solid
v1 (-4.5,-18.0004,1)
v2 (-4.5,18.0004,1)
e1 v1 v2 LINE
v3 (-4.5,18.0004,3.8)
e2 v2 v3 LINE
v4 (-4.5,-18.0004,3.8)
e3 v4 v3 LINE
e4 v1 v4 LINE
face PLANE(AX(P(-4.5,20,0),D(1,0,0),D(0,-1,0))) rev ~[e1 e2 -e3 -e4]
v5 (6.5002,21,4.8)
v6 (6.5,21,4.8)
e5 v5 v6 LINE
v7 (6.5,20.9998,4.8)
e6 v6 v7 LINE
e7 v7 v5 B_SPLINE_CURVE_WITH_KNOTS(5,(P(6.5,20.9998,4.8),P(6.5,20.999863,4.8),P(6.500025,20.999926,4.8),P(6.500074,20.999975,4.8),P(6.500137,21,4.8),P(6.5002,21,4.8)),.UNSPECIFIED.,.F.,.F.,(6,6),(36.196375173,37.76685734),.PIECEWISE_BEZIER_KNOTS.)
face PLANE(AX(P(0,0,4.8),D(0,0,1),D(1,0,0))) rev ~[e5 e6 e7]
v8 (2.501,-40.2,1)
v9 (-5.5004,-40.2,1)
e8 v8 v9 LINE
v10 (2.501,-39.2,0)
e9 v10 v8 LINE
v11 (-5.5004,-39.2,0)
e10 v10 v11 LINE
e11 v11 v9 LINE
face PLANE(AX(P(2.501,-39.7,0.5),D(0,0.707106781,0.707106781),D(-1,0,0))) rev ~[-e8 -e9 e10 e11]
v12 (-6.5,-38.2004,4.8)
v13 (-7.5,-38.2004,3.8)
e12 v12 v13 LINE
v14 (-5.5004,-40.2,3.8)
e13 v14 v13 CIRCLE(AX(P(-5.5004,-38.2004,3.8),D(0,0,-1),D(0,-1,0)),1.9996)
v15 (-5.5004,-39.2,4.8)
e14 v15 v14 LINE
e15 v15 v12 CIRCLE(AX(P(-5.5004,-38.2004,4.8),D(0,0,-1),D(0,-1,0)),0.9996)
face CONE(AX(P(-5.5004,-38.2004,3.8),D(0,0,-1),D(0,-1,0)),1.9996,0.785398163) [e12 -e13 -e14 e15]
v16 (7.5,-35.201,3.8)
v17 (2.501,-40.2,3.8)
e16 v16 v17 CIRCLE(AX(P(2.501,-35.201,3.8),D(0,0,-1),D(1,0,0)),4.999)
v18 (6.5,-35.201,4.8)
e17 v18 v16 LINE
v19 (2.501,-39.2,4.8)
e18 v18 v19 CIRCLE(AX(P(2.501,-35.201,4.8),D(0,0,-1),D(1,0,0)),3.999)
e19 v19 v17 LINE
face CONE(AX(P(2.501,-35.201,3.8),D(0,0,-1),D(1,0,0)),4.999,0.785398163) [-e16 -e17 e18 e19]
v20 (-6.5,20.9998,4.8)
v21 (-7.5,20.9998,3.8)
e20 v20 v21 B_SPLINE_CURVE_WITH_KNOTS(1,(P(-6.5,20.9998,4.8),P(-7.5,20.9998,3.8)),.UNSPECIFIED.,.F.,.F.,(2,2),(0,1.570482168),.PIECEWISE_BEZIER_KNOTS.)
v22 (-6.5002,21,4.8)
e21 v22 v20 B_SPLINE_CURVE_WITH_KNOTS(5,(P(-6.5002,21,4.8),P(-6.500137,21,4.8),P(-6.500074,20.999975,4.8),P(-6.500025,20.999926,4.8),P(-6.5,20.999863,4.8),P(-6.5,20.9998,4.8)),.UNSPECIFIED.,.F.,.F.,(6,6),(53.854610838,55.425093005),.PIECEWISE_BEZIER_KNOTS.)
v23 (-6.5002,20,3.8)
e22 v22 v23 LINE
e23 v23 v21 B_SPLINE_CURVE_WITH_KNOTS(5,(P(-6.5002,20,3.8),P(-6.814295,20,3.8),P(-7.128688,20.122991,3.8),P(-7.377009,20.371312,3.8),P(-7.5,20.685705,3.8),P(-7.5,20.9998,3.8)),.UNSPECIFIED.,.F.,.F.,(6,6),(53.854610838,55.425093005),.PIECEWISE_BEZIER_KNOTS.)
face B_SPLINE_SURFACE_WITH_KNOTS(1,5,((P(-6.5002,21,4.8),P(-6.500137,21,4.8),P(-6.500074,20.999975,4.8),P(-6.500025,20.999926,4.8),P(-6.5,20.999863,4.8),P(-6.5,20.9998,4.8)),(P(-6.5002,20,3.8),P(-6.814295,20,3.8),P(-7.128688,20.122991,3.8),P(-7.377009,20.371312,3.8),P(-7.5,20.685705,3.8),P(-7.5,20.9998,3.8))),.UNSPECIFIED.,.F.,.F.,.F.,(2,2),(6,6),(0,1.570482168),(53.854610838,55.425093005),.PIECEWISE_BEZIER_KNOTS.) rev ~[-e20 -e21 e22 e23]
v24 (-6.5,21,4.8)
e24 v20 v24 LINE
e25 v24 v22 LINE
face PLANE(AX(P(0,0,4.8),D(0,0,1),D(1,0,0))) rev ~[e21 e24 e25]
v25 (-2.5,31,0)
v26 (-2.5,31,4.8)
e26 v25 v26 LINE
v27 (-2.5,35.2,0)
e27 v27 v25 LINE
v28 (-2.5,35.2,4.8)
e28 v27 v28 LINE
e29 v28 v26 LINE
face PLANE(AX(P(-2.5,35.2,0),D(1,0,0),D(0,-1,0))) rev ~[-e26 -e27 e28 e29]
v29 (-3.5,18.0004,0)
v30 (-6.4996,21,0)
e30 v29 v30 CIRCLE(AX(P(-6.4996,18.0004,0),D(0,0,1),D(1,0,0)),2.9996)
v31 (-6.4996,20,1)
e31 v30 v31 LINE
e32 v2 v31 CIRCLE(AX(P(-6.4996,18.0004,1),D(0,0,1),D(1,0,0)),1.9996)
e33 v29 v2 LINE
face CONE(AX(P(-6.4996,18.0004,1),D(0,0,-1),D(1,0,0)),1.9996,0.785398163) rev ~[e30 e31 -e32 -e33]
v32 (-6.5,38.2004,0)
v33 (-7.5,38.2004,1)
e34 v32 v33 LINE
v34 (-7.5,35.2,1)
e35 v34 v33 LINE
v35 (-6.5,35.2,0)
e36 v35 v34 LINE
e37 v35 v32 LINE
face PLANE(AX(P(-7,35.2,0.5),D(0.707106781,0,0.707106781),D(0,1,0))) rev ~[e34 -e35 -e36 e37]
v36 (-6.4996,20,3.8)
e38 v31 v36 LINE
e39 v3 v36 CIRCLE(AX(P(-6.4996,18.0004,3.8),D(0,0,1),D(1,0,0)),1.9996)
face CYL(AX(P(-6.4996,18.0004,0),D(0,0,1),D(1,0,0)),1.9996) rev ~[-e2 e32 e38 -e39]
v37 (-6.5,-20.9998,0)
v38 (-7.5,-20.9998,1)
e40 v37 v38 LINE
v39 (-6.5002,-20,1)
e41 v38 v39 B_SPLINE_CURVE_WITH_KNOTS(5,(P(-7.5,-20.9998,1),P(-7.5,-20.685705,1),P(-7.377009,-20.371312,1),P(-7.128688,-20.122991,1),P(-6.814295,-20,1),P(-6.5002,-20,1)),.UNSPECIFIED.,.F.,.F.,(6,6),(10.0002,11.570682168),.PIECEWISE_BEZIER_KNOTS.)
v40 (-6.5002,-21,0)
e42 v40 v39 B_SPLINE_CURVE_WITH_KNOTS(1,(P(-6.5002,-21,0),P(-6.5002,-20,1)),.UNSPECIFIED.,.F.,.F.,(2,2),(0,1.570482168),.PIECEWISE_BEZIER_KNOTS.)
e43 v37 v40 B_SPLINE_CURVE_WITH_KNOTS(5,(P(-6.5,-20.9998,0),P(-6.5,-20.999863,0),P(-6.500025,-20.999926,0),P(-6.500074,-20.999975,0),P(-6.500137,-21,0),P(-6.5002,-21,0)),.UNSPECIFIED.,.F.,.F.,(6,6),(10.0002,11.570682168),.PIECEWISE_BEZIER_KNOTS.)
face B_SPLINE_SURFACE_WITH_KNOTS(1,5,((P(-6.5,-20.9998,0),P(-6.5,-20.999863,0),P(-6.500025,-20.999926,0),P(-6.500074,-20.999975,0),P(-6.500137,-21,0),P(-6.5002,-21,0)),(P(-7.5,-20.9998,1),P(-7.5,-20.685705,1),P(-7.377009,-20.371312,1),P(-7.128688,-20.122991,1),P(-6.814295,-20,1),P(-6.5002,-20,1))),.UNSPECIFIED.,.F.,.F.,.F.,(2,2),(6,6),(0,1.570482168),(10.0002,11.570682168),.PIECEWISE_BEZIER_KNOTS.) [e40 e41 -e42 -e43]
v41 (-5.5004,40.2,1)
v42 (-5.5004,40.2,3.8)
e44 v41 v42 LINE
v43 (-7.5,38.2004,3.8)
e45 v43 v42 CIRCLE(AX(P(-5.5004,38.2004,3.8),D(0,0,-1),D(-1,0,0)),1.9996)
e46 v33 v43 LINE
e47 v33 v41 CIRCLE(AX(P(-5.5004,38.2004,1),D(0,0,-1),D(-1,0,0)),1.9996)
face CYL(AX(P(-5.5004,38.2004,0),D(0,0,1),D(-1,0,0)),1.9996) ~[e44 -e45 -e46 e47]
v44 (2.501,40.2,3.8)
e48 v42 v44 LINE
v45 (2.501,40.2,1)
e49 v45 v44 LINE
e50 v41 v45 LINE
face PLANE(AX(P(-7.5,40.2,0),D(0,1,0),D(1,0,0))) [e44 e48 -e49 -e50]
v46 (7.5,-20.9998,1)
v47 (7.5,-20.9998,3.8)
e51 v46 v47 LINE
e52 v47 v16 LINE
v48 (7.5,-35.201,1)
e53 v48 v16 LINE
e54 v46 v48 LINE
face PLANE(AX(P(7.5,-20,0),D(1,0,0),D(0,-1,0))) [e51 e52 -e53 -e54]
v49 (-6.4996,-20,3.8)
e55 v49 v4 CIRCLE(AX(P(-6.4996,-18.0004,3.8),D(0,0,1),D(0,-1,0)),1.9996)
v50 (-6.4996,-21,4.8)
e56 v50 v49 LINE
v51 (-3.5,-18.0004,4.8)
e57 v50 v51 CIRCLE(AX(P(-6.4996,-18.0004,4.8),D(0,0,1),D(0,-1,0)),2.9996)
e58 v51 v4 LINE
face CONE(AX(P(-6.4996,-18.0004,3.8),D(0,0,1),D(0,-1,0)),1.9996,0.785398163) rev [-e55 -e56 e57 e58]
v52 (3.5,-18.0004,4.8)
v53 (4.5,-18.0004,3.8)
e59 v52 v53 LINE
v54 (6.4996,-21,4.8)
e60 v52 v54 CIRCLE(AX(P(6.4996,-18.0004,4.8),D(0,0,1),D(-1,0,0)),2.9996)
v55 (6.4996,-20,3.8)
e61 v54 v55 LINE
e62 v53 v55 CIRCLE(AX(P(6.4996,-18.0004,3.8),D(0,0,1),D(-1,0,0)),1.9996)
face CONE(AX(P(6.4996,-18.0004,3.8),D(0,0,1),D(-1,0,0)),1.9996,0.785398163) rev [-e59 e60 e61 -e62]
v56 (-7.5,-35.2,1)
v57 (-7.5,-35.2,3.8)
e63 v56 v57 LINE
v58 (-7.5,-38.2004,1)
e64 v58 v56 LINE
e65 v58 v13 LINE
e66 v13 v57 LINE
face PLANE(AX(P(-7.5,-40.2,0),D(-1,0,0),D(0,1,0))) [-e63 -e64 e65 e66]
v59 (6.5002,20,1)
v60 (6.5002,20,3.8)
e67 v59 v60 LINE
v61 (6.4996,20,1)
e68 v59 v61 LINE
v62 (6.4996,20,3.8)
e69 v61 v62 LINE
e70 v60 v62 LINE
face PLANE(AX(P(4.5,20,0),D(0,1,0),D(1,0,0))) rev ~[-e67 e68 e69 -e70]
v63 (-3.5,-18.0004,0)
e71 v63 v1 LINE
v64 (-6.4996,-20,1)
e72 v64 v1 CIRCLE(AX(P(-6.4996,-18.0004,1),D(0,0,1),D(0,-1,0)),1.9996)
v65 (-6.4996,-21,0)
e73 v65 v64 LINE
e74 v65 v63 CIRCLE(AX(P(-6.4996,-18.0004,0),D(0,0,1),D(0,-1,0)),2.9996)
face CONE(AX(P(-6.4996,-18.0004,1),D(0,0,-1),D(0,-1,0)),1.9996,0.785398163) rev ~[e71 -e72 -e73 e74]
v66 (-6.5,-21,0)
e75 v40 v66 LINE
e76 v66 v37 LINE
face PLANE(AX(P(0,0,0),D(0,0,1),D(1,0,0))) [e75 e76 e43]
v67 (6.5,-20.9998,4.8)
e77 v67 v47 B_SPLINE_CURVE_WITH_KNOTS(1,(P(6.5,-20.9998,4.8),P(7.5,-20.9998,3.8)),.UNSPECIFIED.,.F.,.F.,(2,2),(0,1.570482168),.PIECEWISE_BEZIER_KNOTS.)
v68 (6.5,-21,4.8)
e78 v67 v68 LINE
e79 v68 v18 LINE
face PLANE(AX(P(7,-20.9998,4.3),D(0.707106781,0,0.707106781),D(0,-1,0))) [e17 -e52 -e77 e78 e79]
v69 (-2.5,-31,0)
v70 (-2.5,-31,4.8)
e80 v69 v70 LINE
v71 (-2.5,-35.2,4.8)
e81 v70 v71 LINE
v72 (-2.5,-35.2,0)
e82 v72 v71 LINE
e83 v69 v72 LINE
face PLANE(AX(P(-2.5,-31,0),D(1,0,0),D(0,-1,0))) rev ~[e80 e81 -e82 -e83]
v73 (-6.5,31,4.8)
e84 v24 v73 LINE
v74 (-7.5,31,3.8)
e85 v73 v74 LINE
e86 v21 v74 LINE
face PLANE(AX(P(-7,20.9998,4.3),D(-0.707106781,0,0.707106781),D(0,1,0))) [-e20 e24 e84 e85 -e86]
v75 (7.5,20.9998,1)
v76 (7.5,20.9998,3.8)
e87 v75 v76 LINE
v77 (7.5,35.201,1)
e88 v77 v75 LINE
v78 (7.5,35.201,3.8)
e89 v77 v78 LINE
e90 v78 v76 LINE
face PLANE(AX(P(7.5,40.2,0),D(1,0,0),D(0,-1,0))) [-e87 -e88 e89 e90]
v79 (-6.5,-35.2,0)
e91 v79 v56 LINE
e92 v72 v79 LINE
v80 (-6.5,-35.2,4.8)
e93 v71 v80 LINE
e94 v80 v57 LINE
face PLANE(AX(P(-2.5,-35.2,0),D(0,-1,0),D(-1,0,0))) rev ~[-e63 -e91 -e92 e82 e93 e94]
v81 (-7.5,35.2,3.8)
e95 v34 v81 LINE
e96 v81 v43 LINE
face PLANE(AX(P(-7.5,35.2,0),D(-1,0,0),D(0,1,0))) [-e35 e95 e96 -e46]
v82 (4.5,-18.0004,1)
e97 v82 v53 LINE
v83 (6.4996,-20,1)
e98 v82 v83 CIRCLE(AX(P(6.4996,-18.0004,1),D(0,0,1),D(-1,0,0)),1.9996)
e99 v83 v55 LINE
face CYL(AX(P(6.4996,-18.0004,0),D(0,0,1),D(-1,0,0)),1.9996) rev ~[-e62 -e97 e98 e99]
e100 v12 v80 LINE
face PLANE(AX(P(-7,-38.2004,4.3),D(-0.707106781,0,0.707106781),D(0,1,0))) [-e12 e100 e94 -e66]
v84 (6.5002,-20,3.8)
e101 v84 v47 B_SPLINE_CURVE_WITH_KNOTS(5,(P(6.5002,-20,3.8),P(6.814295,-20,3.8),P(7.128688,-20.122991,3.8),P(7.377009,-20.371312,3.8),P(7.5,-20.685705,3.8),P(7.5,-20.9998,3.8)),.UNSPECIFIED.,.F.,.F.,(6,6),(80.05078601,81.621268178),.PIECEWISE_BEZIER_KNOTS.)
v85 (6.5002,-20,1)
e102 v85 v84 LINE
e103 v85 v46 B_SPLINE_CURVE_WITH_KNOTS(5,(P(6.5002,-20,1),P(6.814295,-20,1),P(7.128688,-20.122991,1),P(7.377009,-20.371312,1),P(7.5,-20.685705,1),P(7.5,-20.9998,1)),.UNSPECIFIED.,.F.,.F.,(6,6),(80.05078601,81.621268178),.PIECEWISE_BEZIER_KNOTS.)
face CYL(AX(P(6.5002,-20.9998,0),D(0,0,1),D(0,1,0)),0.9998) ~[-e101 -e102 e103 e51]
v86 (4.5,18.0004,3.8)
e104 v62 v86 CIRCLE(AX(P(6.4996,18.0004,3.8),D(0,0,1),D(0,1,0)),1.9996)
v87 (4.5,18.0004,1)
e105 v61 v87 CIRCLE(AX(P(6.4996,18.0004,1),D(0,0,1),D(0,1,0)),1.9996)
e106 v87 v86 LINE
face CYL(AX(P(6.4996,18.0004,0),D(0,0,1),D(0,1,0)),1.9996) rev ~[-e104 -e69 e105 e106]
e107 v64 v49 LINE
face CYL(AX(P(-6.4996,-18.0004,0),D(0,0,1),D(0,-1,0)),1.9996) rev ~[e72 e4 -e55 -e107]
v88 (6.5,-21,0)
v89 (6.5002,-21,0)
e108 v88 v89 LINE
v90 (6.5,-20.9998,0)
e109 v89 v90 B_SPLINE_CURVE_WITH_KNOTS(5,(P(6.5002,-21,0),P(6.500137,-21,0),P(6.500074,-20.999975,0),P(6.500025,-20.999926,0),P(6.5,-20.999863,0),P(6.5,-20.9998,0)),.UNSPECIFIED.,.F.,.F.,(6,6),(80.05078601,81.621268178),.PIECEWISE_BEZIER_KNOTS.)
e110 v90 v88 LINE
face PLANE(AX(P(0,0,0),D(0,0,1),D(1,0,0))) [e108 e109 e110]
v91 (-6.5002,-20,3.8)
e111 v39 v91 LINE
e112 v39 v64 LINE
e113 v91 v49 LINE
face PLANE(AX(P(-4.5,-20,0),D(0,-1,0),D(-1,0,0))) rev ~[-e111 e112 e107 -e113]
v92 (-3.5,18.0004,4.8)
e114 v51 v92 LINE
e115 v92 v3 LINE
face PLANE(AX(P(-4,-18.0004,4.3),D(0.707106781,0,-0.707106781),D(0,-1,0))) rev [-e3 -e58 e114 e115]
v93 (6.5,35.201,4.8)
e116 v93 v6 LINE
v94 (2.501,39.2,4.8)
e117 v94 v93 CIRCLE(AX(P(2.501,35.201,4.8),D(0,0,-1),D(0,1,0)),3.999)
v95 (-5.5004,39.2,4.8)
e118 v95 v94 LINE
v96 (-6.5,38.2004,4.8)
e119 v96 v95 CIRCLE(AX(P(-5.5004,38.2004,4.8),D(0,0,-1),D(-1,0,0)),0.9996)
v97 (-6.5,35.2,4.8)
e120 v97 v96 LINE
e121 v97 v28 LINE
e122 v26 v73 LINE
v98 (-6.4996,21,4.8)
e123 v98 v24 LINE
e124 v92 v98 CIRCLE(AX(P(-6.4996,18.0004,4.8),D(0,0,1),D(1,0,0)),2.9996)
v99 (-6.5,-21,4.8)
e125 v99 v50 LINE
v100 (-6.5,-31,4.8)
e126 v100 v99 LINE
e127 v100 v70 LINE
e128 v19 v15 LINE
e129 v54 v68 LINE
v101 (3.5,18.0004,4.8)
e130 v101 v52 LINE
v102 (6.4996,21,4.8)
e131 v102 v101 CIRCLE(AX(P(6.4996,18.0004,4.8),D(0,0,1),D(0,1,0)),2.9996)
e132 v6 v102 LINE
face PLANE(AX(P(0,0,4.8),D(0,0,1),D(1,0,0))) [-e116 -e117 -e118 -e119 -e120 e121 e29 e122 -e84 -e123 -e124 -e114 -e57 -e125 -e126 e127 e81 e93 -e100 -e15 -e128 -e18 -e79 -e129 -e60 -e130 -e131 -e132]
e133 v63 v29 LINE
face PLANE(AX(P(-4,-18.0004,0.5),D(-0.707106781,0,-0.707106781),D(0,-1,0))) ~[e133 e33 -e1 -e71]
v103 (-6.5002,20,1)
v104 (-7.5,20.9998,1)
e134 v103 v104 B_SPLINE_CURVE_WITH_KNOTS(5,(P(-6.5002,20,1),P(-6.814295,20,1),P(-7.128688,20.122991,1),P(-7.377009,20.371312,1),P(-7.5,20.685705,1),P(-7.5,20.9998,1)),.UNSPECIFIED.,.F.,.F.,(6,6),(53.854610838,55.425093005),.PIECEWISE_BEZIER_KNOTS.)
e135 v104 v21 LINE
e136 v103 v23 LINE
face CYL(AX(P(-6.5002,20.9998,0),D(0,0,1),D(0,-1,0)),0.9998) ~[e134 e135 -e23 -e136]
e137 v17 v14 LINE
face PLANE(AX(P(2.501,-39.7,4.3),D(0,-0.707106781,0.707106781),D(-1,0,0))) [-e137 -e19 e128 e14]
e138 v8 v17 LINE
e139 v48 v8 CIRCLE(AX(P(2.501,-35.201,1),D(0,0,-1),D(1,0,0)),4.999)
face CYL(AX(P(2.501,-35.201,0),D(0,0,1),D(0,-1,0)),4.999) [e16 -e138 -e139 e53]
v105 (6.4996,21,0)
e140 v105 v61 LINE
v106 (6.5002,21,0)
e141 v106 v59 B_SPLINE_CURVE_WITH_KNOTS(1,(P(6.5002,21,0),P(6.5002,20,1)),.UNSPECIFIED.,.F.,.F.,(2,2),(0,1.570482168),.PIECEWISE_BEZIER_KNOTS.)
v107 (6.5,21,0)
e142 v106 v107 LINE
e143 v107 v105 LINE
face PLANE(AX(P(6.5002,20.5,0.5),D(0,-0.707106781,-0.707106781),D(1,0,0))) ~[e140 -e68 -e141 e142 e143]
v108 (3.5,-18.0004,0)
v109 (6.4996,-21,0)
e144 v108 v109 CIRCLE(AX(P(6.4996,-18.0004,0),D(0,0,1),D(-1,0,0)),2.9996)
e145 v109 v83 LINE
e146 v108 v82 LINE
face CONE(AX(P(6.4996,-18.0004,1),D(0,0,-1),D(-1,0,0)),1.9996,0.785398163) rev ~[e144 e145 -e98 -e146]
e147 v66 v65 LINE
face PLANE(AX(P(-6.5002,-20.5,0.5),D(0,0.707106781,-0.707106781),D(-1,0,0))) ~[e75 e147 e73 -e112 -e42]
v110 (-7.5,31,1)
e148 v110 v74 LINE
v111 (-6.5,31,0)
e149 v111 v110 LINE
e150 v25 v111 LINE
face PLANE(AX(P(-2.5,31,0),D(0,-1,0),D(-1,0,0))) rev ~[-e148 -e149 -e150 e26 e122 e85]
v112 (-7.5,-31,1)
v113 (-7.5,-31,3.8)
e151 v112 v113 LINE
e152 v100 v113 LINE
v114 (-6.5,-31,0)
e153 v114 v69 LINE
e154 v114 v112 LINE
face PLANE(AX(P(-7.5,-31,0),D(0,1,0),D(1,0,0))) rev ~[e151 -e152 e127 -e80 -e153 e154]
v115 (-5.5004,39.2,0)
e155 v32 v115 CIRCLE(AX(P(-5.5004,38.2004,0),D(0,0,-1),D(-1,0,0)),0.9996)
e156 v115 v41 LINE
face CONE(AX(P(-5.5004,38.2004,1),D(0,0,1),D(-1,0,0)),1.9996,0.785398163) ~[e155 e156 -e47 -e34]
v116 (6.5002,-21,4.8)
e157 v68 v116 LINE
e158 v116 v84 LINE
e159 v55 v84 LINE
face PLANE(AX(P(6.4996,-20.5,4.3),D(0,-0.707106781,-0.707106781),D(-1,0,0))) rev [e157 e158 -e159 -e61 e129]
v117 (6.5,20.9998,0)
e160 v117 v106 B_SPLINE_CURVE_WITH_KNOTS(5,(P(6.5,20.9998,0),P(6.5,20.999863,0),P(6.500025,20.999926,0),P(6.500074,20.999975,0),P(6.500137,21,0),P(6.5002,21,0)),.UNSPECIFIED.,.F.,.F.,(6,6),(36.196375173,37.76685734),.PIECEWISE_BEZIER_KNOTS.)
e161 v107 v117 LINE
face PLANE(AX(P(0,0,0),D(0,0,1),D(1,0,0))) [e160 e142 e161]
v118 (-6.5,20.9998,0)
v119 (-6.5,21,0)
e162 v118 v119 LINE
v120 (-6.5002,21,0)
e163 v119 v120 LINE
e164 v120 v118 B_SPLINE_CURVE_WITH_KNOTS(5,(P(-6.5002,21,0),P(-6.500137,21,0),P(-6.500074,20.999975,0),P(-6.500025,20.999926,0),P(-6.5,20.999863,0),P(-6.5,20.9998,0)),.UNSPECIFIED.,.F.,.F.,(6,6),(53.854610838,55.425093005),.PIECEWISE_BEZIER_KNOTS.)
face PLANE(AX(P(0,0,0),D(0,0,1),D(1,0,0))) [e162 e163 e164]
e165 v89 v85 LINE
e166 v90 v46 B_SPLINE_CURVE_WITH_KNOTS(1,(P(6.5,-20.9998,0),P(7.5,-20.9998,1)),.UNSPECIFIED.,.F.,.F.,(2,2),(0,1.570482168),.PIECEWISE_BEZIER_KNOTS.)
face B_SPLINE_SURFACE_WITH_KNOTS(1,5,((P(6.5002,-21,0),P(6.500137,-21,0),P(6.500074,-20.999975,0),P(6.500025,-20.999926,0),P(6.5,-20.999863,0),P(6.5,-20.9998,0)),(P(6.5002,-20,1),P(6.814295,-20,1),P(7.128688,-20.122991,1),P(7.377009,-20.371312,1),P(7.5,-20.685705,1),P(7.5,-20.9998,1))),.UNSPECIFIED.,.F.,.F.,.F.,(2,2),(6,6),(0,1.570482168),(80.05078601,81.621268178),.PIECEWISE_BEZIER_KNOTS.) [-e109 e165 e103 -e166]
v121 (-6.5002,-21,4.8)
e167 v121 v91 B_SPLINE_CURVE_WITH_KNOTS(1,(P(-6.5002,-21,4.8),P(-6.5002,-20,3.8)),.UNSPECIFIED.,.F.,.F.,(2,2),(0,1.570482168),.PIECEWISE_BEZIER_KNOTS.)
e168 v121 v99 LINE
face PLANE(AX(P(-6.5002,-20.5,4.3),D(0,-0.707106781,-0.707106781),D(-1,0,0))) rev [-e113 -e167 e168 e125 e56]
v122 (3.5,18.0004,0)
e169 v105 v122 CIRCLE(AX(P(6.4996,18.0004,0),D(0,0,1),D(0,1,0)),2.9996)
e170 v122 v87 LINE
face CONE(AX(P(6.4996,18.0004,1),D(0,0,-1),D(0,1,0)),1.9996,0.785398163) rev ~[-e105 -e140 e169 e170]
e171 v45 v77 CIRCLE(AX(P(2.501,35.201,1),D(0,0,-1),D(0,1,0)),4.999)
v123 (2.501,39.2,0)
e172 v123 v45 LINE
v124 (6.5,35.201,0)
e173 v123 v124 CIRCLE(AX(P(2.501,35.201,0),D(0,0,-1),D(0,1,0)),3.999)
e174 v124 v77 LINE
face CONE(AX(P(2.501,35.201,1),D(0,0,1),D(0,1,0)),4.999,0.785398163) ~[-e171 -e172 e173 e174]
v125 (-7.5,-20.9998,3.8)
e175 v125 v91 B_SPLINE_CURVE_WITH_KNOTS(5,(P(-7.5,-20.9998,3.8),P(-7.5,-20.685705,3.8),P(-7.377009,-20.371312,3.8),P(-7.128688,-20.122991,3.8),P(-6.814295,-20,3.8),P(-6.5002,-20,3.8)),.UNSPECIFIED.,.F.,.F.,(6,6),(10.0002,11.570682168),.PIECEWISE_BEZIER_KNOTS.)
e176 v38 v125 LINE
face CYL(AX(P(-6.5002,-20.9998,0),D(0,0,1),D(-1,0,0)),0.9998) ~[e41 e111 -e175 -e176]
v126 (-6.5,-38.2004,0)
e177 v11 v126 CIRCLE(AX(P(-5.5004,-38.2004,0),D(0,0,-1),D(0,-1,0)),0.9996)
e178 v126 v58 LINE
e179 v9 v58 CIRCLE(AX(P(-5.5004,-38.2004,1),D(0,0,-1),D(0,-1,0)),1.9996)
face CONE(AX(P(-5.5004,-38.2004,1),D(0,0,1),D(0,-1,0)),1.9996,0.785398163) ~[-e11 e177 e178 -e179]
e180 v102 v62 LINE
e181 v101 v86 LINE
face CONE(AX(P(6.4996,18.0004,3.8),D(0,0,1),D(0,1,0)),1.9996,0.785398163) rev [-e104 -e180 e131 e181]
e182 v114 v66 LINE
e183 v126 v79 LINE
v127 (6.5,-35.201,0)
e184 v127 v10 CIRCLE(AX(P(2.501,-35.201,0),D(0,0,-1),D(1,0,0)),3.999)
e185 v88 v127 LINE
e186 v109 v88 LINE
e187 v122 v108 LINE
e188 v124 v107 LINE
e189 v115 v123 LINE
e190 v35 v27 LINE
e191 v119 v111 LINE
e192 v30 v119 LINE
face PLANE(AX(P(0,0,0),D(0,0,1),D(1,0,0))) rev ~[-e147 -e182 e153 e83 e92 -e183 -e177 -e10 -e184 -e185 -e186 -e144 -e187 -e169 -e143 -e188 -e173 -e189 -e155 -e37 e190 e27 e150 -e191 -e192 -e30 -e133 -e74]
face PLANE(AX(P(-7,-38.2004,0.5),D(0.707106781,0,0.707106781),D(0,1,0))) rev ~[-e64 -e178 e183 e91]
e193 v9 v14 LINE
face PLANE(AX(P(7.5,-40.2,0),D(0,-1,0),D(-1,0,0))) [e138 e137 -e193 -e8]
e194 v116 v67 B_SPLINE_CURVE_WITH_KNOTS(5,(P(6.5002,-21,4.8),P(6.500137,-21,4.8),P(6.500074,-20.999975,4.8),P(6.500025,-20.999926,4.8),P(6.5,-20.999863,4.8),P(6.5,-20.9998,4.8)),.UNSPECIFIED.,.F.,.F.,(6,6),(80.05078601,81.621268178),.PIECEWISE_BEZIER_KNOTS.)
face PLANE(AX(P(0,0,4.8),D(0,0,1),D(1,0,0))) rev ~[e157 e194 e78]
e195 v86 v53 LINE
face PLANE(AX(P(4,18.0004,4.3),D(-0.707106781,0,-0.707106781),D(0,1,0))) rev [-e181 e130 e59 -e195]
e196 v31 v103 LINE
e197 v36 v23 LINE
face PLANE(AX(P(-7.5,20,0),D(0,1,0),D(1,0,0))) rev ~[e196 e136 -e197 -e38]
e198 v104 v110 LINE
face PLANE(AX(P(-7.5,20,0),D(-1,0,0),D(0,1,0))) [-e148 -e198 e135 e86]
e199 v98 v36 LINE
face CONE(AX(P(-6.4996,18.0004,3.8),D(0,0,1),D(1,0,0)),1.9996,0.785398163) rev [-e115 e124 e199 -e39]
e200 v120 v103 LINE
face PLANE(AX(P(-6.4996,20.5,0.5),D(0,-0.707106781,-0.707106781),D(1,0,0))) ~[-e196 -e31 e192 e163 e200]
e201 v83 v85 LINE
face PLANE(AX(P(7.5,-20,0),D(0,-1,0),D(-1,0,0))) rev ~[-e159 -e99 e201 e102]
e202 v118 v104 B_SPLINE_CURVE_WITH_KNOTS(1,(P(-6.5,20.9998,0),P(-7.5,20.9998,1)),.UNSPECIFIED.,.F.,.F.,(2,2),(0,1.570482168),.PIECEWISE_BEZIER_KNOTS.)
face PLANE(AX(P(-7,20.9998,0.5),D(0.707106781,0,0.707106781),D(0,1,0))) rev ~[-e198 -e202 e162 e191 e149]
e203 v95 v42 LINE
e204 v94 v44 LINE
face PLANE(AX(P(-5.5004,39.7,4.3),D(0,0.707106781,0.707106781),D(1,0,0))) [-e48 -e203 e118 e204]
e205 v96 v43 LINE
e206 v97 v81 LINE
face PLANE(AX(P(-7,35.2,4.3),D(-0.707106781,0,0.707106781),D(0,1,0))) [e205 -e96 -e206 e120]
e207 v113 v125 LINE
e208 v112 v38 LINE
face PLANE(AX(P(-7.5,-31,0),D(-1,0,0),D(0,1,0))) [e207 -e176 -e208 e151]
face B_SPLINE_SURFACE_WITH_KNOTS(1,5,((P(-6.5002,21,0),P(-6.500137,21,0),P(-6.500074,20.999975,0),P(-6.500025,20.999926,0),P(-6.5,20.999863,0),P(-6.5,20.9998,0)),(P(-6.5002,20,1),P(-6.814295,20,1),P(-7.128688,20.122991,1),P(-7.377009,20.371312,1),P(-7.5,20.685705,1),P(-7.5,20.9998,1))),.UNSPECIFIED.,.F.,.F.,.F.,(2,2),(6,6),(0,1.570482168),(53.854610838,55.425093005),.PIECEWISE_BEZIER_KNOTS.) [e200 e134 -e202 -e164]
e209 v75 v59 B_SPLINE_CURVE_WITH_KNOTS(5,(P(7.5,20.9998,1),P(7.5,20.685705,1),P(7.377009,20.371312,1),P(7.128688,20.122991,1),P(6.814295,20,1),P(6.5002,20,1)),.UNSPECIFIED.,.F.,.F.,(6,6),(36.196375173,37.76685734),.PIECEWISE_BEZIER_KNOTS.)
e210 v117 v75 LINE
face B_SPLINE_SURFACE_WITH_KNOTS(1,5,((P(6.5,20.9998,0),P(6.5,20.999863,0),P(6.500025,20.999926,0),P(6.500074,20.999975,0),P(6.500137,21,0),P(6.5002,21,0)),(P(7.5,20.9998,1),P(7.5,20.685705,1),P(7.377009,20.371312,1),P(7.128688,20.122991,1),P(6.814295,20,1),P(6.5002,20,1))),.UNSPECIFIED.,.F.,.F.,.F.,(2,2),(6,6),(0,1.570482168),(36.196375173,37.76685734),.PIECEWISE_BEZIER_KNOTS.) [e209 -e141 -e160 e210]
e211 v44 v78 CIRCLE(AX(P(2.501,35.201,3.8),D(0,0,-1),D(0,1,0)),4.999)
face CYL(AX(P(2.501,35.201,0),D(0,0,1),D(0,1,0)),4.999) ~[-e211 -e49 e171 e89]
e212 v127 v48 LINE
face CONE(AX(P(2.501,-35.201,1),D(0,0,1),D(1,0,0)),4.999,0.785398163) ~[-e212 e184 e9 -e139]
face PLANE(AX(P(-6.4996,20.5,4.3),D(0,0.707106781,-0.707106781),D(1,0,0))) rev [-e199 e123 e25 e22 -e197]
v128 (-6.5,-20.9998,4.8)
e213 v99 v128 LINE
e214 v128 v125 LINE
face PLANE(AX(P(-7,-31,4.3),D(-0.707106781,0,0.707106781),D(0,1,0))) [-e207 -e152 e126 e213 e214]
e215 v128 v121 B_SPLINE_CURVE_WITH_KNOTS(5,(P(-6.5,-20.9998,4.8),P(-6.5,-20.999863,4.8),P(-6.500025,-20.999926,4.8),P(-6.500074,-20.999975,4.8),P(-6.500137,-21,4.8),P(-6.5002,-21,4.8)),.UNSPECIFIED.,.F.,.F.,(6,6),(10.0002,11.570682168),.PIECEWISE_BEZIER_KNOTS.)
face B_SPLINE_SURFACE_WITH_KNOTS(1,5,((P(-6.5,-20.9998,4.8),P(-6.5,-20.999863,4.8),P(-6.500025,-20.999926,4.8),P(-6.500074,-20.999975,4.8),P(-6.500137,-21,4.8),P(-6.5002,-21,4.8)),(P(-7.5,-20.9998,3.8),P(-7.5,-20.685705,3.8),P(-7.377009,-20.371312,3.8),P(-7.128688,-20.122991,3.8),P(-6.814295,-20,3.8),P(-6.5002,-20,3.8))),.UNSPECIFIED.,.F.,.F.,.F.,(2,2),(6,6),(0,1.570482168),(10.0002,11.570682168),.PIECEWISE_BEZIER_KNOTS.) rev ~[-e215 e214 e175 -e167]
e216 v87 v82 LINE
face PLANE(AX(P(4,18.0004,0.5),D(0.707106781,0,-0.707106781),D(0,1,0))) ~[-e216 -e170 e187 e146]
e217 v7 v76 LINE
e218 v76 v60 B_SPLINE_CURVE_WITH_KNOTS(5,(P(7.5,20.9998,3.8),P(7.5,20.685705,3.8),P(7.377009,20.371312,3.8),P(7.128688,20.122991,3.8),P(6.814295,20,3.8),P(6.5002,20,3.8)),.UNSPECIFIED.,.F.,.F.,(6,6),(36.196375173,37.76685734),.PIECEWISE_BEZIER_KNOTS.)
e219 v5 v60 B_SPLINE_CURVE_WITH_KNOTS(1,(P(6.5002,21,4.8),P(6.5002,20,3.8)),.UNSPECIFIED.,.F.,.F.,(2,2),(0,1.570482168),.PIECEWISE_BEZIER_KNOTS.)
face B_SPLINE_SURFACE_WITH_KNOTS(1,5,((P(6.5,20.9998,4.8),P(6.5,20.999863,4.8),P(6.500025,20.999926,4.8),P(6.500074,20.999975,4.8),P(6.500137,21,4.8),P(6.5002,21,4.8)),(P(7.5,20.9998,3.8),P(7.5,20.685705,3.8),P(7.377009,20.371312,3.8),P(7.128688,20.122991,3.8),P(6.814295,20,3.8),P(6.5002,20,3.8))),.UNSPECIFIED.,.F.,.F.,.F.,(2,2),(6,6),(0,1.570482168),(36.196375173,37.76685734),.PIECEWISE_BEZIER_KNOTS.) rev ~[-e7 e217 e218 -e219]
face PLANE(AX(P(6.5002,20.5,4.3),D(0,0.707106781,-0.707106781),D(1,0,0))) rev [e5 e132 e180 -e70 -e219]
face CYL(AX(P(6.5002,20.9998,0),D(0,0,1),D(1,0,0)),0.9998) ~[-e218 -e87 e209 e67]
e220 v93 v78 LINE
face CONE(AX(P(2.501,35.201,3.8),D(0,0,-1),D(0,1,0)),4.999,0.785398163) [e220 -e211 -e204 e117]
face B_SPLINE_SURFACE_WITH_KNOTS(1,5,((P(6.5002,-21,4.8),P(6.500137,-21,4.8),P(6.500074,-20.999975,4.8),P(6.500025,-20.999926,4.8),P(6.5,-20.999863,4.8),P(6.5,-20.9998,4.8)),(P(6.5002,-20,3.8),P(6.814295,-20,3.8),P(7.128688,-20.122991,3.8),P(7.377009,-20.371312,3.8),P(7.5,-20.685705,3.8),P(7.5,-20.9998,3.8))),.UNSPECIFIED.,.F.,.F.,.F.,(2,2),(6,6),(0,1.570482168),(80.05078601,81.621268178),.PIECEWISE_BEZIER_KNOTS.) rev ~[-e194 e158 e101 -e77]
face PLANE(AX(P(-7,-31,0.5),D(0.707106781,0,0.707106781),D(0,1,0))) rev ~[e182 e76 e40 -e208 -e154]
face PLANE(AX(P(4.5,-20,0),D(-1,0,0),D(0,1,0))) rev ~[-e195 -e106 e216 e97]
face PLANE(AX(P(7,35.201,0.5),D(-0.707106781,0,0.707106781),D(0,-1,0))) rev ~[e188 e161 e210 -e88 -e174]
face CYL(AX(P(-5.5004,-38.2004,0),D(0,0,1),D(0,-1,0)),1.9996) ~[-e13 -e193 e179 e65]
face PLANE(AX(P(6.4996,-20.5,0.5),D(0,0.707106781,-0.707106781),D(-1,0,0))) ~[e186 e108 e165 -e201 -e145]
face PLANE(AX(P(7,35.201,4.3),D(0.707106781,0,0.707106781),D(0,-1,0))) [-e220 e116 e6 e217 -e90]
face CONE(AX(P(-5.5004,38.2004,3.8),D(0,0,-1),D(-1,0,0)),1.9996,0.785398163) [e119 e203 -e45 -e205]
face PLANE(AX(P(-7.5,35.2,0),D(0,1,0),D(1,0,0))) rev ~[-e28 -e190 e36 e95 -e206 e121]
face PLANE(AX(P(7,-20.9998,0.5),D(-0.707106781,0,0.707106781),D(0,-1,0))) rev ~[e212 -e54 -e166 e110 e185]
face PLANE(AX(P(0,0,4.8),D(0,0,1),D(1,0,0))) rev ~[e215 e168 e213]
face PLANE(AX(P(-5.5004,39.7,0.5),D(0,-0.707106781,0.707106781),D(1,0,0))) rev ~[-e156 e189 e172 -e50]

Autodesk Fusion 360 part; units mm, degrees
sketch "Sketch1" plane through (0, 0, 0) normal (0, 0, 1) x (1, 0, 0)
  line L0 (7.5, -40.2) -> (-7.5, -40.2)
  line L1 (-7.5, -40.2) -> (-7.5, 40.2)
  line L2 (-7.5, 40.2) -> (7.5, 40.2)
  line L3 (7.5, 40.2) -> (7.5, -40.2)
  line L4 (7.5, -40.2) -> (-7.5, 40.2) construction
  line L5 (-7.5, -40.2) -> (7.5, 40.2) construction
  line L6 (-7.5, 35.2) -> (-2.5, 35.2)
  line L7 (-2.5, 35.2) -> (-2.5, 31)
  line L8 (-2.5, 31) -> (-7.5, 31)
  line L9 (-7.5, 31) -> (-7.5, 35.2)
  line L10 (-7.5, -31) -> (-2.5, -31)
  line L11 (-2.5, -31) -> (-2.5, -35.2)
  line L12 (-2.5, -35.2) -> (-7.5, -35.2)
  line L13 (-7.5, -35.2) -> (-7.5, -31)
  line L14 (0, 1.75) -> (0, 22.5)
  line L15 (-7.5, 20) -> (-4.5, 20)
  line L16 (-4.5, 20) -> (-4.5, -20)
  line L17 (-4.5, -20) -> (-7.5, -20)
  line L18 (-7.5, -20) -> (-7.5, 20)
  line L19 (7.5, -20) -> (4.5, -20)
  line L20 (4.5, -20) -> (4.5, 20)
  line L21 (4.5, 20) -> (7.5, 20)
  line L22 (7.5, 20) -> (7.5, -20)
  dimension "d1" = 80.4
  dimension "d2" = 15
  dimension "d3" = 5
  dimension "d4" = 4.2
  dimension "d5" = 5
  dimension "d6" = 4.2
  dimension "d7" = 5
  dimension "d8" = 5
  dimension "d26" = 15
  dimension "d27" = 40.2
  dimension "d28" = 3
  dimension "d29" = 40
  dimension "d30" = 20
  dimension "d31" = 40
  dimension "d32" = 3
  dimension "d33" = 20
extrude "Extrude1" add sketch "Sketch1" along normal blind 4.8 contours L0 L1 L2 L3 L6 L7 L8 L10 L11 L12 L15 L16 L17 L19 L20 L21
fillet "Fillet1" radius 5 2 edges at (7.5, 40.2, 2.4) (7.5, -40.2, 2.4)
fillet "Fillet1" radius 2 6 edges at (-7.5, 40.2, 2.4) (-7.5, -40.2, 2.4) (-4.5, 20, 2.4) (4.5, 20, 2.4) (4.5, -20, 2.4) (-4.5, -20, 2.4)
fillet "Fillet1" radius 1 4 edges at (-7.5, 20, 2.4) (7.5, 20, 2.4) (-7.5, -20, 2.4) (7.5, -20, 2.4)
chamfer "Chamfer1" distance 1 angle 45 44 edges at (7.5, 28.1, 4.8) (7.2071, 20.2929, 4.8) (5.0858, 19.4142, 4.8) (4.5, 0, 4.8) (5.0858, -19.4142, 4.8) (7.2071, -20.2929, 4.8) (7.5, -28.1, 4.8) (6.0355, -38.7355, 4.8) (-1.5, -40.2, 4.8) (-6.9142, -39.6142, 4.8) (-7.5, -36.7, 4.8) (-7.5, 36.7, 4.8) (-6.9142, 39.6142, 4.8) (-1.5, 40.2, 4.8) (6.0355, 38.7355, 4.8) (7.5, -28.1, 0) (7.2071, -20.2929, 0) (5.0858, -19.4142, 0) (4.5, 0, 0) (5.0858, 19.4142, 0) (7.2071, 20.2929, 0) (7.5, 28.1, 0) (6.0355, 38.7355, 0) (-1.5, 40.2, 0) (-6.9142, 39.6142, 0) (-7.5, 36.7, 0) (-7.5, -36.7, 0) (-6.9142, -39.6142, 0) (-1.5, -40.2, 0) (6.0355, -38.7355, 0) (-7.5, -26, 0) (-7.2071, -20.2929, 0) (-5.0858, -19.4142, 0) (-4.5, 0, 0) (-5.0858, 19.4142, 0) (-7.2071, 20.2929, 0) (-7.5, 26, 0) (-7.5, 26, 4.8) (-7.2071, 20.2929, 4.8) (-5.0858, 19.4142, 4.8) (-4.5, 0, 4.8) (-5.0858, -19.4142, 4.8) (-7.2071, -20.2929, 4.8) (-7.5, -26, 4.8)
equation "d27 = d1 / 2"
equation "d30 = d29 / 2"
equation "d33 = d31 / 2"
